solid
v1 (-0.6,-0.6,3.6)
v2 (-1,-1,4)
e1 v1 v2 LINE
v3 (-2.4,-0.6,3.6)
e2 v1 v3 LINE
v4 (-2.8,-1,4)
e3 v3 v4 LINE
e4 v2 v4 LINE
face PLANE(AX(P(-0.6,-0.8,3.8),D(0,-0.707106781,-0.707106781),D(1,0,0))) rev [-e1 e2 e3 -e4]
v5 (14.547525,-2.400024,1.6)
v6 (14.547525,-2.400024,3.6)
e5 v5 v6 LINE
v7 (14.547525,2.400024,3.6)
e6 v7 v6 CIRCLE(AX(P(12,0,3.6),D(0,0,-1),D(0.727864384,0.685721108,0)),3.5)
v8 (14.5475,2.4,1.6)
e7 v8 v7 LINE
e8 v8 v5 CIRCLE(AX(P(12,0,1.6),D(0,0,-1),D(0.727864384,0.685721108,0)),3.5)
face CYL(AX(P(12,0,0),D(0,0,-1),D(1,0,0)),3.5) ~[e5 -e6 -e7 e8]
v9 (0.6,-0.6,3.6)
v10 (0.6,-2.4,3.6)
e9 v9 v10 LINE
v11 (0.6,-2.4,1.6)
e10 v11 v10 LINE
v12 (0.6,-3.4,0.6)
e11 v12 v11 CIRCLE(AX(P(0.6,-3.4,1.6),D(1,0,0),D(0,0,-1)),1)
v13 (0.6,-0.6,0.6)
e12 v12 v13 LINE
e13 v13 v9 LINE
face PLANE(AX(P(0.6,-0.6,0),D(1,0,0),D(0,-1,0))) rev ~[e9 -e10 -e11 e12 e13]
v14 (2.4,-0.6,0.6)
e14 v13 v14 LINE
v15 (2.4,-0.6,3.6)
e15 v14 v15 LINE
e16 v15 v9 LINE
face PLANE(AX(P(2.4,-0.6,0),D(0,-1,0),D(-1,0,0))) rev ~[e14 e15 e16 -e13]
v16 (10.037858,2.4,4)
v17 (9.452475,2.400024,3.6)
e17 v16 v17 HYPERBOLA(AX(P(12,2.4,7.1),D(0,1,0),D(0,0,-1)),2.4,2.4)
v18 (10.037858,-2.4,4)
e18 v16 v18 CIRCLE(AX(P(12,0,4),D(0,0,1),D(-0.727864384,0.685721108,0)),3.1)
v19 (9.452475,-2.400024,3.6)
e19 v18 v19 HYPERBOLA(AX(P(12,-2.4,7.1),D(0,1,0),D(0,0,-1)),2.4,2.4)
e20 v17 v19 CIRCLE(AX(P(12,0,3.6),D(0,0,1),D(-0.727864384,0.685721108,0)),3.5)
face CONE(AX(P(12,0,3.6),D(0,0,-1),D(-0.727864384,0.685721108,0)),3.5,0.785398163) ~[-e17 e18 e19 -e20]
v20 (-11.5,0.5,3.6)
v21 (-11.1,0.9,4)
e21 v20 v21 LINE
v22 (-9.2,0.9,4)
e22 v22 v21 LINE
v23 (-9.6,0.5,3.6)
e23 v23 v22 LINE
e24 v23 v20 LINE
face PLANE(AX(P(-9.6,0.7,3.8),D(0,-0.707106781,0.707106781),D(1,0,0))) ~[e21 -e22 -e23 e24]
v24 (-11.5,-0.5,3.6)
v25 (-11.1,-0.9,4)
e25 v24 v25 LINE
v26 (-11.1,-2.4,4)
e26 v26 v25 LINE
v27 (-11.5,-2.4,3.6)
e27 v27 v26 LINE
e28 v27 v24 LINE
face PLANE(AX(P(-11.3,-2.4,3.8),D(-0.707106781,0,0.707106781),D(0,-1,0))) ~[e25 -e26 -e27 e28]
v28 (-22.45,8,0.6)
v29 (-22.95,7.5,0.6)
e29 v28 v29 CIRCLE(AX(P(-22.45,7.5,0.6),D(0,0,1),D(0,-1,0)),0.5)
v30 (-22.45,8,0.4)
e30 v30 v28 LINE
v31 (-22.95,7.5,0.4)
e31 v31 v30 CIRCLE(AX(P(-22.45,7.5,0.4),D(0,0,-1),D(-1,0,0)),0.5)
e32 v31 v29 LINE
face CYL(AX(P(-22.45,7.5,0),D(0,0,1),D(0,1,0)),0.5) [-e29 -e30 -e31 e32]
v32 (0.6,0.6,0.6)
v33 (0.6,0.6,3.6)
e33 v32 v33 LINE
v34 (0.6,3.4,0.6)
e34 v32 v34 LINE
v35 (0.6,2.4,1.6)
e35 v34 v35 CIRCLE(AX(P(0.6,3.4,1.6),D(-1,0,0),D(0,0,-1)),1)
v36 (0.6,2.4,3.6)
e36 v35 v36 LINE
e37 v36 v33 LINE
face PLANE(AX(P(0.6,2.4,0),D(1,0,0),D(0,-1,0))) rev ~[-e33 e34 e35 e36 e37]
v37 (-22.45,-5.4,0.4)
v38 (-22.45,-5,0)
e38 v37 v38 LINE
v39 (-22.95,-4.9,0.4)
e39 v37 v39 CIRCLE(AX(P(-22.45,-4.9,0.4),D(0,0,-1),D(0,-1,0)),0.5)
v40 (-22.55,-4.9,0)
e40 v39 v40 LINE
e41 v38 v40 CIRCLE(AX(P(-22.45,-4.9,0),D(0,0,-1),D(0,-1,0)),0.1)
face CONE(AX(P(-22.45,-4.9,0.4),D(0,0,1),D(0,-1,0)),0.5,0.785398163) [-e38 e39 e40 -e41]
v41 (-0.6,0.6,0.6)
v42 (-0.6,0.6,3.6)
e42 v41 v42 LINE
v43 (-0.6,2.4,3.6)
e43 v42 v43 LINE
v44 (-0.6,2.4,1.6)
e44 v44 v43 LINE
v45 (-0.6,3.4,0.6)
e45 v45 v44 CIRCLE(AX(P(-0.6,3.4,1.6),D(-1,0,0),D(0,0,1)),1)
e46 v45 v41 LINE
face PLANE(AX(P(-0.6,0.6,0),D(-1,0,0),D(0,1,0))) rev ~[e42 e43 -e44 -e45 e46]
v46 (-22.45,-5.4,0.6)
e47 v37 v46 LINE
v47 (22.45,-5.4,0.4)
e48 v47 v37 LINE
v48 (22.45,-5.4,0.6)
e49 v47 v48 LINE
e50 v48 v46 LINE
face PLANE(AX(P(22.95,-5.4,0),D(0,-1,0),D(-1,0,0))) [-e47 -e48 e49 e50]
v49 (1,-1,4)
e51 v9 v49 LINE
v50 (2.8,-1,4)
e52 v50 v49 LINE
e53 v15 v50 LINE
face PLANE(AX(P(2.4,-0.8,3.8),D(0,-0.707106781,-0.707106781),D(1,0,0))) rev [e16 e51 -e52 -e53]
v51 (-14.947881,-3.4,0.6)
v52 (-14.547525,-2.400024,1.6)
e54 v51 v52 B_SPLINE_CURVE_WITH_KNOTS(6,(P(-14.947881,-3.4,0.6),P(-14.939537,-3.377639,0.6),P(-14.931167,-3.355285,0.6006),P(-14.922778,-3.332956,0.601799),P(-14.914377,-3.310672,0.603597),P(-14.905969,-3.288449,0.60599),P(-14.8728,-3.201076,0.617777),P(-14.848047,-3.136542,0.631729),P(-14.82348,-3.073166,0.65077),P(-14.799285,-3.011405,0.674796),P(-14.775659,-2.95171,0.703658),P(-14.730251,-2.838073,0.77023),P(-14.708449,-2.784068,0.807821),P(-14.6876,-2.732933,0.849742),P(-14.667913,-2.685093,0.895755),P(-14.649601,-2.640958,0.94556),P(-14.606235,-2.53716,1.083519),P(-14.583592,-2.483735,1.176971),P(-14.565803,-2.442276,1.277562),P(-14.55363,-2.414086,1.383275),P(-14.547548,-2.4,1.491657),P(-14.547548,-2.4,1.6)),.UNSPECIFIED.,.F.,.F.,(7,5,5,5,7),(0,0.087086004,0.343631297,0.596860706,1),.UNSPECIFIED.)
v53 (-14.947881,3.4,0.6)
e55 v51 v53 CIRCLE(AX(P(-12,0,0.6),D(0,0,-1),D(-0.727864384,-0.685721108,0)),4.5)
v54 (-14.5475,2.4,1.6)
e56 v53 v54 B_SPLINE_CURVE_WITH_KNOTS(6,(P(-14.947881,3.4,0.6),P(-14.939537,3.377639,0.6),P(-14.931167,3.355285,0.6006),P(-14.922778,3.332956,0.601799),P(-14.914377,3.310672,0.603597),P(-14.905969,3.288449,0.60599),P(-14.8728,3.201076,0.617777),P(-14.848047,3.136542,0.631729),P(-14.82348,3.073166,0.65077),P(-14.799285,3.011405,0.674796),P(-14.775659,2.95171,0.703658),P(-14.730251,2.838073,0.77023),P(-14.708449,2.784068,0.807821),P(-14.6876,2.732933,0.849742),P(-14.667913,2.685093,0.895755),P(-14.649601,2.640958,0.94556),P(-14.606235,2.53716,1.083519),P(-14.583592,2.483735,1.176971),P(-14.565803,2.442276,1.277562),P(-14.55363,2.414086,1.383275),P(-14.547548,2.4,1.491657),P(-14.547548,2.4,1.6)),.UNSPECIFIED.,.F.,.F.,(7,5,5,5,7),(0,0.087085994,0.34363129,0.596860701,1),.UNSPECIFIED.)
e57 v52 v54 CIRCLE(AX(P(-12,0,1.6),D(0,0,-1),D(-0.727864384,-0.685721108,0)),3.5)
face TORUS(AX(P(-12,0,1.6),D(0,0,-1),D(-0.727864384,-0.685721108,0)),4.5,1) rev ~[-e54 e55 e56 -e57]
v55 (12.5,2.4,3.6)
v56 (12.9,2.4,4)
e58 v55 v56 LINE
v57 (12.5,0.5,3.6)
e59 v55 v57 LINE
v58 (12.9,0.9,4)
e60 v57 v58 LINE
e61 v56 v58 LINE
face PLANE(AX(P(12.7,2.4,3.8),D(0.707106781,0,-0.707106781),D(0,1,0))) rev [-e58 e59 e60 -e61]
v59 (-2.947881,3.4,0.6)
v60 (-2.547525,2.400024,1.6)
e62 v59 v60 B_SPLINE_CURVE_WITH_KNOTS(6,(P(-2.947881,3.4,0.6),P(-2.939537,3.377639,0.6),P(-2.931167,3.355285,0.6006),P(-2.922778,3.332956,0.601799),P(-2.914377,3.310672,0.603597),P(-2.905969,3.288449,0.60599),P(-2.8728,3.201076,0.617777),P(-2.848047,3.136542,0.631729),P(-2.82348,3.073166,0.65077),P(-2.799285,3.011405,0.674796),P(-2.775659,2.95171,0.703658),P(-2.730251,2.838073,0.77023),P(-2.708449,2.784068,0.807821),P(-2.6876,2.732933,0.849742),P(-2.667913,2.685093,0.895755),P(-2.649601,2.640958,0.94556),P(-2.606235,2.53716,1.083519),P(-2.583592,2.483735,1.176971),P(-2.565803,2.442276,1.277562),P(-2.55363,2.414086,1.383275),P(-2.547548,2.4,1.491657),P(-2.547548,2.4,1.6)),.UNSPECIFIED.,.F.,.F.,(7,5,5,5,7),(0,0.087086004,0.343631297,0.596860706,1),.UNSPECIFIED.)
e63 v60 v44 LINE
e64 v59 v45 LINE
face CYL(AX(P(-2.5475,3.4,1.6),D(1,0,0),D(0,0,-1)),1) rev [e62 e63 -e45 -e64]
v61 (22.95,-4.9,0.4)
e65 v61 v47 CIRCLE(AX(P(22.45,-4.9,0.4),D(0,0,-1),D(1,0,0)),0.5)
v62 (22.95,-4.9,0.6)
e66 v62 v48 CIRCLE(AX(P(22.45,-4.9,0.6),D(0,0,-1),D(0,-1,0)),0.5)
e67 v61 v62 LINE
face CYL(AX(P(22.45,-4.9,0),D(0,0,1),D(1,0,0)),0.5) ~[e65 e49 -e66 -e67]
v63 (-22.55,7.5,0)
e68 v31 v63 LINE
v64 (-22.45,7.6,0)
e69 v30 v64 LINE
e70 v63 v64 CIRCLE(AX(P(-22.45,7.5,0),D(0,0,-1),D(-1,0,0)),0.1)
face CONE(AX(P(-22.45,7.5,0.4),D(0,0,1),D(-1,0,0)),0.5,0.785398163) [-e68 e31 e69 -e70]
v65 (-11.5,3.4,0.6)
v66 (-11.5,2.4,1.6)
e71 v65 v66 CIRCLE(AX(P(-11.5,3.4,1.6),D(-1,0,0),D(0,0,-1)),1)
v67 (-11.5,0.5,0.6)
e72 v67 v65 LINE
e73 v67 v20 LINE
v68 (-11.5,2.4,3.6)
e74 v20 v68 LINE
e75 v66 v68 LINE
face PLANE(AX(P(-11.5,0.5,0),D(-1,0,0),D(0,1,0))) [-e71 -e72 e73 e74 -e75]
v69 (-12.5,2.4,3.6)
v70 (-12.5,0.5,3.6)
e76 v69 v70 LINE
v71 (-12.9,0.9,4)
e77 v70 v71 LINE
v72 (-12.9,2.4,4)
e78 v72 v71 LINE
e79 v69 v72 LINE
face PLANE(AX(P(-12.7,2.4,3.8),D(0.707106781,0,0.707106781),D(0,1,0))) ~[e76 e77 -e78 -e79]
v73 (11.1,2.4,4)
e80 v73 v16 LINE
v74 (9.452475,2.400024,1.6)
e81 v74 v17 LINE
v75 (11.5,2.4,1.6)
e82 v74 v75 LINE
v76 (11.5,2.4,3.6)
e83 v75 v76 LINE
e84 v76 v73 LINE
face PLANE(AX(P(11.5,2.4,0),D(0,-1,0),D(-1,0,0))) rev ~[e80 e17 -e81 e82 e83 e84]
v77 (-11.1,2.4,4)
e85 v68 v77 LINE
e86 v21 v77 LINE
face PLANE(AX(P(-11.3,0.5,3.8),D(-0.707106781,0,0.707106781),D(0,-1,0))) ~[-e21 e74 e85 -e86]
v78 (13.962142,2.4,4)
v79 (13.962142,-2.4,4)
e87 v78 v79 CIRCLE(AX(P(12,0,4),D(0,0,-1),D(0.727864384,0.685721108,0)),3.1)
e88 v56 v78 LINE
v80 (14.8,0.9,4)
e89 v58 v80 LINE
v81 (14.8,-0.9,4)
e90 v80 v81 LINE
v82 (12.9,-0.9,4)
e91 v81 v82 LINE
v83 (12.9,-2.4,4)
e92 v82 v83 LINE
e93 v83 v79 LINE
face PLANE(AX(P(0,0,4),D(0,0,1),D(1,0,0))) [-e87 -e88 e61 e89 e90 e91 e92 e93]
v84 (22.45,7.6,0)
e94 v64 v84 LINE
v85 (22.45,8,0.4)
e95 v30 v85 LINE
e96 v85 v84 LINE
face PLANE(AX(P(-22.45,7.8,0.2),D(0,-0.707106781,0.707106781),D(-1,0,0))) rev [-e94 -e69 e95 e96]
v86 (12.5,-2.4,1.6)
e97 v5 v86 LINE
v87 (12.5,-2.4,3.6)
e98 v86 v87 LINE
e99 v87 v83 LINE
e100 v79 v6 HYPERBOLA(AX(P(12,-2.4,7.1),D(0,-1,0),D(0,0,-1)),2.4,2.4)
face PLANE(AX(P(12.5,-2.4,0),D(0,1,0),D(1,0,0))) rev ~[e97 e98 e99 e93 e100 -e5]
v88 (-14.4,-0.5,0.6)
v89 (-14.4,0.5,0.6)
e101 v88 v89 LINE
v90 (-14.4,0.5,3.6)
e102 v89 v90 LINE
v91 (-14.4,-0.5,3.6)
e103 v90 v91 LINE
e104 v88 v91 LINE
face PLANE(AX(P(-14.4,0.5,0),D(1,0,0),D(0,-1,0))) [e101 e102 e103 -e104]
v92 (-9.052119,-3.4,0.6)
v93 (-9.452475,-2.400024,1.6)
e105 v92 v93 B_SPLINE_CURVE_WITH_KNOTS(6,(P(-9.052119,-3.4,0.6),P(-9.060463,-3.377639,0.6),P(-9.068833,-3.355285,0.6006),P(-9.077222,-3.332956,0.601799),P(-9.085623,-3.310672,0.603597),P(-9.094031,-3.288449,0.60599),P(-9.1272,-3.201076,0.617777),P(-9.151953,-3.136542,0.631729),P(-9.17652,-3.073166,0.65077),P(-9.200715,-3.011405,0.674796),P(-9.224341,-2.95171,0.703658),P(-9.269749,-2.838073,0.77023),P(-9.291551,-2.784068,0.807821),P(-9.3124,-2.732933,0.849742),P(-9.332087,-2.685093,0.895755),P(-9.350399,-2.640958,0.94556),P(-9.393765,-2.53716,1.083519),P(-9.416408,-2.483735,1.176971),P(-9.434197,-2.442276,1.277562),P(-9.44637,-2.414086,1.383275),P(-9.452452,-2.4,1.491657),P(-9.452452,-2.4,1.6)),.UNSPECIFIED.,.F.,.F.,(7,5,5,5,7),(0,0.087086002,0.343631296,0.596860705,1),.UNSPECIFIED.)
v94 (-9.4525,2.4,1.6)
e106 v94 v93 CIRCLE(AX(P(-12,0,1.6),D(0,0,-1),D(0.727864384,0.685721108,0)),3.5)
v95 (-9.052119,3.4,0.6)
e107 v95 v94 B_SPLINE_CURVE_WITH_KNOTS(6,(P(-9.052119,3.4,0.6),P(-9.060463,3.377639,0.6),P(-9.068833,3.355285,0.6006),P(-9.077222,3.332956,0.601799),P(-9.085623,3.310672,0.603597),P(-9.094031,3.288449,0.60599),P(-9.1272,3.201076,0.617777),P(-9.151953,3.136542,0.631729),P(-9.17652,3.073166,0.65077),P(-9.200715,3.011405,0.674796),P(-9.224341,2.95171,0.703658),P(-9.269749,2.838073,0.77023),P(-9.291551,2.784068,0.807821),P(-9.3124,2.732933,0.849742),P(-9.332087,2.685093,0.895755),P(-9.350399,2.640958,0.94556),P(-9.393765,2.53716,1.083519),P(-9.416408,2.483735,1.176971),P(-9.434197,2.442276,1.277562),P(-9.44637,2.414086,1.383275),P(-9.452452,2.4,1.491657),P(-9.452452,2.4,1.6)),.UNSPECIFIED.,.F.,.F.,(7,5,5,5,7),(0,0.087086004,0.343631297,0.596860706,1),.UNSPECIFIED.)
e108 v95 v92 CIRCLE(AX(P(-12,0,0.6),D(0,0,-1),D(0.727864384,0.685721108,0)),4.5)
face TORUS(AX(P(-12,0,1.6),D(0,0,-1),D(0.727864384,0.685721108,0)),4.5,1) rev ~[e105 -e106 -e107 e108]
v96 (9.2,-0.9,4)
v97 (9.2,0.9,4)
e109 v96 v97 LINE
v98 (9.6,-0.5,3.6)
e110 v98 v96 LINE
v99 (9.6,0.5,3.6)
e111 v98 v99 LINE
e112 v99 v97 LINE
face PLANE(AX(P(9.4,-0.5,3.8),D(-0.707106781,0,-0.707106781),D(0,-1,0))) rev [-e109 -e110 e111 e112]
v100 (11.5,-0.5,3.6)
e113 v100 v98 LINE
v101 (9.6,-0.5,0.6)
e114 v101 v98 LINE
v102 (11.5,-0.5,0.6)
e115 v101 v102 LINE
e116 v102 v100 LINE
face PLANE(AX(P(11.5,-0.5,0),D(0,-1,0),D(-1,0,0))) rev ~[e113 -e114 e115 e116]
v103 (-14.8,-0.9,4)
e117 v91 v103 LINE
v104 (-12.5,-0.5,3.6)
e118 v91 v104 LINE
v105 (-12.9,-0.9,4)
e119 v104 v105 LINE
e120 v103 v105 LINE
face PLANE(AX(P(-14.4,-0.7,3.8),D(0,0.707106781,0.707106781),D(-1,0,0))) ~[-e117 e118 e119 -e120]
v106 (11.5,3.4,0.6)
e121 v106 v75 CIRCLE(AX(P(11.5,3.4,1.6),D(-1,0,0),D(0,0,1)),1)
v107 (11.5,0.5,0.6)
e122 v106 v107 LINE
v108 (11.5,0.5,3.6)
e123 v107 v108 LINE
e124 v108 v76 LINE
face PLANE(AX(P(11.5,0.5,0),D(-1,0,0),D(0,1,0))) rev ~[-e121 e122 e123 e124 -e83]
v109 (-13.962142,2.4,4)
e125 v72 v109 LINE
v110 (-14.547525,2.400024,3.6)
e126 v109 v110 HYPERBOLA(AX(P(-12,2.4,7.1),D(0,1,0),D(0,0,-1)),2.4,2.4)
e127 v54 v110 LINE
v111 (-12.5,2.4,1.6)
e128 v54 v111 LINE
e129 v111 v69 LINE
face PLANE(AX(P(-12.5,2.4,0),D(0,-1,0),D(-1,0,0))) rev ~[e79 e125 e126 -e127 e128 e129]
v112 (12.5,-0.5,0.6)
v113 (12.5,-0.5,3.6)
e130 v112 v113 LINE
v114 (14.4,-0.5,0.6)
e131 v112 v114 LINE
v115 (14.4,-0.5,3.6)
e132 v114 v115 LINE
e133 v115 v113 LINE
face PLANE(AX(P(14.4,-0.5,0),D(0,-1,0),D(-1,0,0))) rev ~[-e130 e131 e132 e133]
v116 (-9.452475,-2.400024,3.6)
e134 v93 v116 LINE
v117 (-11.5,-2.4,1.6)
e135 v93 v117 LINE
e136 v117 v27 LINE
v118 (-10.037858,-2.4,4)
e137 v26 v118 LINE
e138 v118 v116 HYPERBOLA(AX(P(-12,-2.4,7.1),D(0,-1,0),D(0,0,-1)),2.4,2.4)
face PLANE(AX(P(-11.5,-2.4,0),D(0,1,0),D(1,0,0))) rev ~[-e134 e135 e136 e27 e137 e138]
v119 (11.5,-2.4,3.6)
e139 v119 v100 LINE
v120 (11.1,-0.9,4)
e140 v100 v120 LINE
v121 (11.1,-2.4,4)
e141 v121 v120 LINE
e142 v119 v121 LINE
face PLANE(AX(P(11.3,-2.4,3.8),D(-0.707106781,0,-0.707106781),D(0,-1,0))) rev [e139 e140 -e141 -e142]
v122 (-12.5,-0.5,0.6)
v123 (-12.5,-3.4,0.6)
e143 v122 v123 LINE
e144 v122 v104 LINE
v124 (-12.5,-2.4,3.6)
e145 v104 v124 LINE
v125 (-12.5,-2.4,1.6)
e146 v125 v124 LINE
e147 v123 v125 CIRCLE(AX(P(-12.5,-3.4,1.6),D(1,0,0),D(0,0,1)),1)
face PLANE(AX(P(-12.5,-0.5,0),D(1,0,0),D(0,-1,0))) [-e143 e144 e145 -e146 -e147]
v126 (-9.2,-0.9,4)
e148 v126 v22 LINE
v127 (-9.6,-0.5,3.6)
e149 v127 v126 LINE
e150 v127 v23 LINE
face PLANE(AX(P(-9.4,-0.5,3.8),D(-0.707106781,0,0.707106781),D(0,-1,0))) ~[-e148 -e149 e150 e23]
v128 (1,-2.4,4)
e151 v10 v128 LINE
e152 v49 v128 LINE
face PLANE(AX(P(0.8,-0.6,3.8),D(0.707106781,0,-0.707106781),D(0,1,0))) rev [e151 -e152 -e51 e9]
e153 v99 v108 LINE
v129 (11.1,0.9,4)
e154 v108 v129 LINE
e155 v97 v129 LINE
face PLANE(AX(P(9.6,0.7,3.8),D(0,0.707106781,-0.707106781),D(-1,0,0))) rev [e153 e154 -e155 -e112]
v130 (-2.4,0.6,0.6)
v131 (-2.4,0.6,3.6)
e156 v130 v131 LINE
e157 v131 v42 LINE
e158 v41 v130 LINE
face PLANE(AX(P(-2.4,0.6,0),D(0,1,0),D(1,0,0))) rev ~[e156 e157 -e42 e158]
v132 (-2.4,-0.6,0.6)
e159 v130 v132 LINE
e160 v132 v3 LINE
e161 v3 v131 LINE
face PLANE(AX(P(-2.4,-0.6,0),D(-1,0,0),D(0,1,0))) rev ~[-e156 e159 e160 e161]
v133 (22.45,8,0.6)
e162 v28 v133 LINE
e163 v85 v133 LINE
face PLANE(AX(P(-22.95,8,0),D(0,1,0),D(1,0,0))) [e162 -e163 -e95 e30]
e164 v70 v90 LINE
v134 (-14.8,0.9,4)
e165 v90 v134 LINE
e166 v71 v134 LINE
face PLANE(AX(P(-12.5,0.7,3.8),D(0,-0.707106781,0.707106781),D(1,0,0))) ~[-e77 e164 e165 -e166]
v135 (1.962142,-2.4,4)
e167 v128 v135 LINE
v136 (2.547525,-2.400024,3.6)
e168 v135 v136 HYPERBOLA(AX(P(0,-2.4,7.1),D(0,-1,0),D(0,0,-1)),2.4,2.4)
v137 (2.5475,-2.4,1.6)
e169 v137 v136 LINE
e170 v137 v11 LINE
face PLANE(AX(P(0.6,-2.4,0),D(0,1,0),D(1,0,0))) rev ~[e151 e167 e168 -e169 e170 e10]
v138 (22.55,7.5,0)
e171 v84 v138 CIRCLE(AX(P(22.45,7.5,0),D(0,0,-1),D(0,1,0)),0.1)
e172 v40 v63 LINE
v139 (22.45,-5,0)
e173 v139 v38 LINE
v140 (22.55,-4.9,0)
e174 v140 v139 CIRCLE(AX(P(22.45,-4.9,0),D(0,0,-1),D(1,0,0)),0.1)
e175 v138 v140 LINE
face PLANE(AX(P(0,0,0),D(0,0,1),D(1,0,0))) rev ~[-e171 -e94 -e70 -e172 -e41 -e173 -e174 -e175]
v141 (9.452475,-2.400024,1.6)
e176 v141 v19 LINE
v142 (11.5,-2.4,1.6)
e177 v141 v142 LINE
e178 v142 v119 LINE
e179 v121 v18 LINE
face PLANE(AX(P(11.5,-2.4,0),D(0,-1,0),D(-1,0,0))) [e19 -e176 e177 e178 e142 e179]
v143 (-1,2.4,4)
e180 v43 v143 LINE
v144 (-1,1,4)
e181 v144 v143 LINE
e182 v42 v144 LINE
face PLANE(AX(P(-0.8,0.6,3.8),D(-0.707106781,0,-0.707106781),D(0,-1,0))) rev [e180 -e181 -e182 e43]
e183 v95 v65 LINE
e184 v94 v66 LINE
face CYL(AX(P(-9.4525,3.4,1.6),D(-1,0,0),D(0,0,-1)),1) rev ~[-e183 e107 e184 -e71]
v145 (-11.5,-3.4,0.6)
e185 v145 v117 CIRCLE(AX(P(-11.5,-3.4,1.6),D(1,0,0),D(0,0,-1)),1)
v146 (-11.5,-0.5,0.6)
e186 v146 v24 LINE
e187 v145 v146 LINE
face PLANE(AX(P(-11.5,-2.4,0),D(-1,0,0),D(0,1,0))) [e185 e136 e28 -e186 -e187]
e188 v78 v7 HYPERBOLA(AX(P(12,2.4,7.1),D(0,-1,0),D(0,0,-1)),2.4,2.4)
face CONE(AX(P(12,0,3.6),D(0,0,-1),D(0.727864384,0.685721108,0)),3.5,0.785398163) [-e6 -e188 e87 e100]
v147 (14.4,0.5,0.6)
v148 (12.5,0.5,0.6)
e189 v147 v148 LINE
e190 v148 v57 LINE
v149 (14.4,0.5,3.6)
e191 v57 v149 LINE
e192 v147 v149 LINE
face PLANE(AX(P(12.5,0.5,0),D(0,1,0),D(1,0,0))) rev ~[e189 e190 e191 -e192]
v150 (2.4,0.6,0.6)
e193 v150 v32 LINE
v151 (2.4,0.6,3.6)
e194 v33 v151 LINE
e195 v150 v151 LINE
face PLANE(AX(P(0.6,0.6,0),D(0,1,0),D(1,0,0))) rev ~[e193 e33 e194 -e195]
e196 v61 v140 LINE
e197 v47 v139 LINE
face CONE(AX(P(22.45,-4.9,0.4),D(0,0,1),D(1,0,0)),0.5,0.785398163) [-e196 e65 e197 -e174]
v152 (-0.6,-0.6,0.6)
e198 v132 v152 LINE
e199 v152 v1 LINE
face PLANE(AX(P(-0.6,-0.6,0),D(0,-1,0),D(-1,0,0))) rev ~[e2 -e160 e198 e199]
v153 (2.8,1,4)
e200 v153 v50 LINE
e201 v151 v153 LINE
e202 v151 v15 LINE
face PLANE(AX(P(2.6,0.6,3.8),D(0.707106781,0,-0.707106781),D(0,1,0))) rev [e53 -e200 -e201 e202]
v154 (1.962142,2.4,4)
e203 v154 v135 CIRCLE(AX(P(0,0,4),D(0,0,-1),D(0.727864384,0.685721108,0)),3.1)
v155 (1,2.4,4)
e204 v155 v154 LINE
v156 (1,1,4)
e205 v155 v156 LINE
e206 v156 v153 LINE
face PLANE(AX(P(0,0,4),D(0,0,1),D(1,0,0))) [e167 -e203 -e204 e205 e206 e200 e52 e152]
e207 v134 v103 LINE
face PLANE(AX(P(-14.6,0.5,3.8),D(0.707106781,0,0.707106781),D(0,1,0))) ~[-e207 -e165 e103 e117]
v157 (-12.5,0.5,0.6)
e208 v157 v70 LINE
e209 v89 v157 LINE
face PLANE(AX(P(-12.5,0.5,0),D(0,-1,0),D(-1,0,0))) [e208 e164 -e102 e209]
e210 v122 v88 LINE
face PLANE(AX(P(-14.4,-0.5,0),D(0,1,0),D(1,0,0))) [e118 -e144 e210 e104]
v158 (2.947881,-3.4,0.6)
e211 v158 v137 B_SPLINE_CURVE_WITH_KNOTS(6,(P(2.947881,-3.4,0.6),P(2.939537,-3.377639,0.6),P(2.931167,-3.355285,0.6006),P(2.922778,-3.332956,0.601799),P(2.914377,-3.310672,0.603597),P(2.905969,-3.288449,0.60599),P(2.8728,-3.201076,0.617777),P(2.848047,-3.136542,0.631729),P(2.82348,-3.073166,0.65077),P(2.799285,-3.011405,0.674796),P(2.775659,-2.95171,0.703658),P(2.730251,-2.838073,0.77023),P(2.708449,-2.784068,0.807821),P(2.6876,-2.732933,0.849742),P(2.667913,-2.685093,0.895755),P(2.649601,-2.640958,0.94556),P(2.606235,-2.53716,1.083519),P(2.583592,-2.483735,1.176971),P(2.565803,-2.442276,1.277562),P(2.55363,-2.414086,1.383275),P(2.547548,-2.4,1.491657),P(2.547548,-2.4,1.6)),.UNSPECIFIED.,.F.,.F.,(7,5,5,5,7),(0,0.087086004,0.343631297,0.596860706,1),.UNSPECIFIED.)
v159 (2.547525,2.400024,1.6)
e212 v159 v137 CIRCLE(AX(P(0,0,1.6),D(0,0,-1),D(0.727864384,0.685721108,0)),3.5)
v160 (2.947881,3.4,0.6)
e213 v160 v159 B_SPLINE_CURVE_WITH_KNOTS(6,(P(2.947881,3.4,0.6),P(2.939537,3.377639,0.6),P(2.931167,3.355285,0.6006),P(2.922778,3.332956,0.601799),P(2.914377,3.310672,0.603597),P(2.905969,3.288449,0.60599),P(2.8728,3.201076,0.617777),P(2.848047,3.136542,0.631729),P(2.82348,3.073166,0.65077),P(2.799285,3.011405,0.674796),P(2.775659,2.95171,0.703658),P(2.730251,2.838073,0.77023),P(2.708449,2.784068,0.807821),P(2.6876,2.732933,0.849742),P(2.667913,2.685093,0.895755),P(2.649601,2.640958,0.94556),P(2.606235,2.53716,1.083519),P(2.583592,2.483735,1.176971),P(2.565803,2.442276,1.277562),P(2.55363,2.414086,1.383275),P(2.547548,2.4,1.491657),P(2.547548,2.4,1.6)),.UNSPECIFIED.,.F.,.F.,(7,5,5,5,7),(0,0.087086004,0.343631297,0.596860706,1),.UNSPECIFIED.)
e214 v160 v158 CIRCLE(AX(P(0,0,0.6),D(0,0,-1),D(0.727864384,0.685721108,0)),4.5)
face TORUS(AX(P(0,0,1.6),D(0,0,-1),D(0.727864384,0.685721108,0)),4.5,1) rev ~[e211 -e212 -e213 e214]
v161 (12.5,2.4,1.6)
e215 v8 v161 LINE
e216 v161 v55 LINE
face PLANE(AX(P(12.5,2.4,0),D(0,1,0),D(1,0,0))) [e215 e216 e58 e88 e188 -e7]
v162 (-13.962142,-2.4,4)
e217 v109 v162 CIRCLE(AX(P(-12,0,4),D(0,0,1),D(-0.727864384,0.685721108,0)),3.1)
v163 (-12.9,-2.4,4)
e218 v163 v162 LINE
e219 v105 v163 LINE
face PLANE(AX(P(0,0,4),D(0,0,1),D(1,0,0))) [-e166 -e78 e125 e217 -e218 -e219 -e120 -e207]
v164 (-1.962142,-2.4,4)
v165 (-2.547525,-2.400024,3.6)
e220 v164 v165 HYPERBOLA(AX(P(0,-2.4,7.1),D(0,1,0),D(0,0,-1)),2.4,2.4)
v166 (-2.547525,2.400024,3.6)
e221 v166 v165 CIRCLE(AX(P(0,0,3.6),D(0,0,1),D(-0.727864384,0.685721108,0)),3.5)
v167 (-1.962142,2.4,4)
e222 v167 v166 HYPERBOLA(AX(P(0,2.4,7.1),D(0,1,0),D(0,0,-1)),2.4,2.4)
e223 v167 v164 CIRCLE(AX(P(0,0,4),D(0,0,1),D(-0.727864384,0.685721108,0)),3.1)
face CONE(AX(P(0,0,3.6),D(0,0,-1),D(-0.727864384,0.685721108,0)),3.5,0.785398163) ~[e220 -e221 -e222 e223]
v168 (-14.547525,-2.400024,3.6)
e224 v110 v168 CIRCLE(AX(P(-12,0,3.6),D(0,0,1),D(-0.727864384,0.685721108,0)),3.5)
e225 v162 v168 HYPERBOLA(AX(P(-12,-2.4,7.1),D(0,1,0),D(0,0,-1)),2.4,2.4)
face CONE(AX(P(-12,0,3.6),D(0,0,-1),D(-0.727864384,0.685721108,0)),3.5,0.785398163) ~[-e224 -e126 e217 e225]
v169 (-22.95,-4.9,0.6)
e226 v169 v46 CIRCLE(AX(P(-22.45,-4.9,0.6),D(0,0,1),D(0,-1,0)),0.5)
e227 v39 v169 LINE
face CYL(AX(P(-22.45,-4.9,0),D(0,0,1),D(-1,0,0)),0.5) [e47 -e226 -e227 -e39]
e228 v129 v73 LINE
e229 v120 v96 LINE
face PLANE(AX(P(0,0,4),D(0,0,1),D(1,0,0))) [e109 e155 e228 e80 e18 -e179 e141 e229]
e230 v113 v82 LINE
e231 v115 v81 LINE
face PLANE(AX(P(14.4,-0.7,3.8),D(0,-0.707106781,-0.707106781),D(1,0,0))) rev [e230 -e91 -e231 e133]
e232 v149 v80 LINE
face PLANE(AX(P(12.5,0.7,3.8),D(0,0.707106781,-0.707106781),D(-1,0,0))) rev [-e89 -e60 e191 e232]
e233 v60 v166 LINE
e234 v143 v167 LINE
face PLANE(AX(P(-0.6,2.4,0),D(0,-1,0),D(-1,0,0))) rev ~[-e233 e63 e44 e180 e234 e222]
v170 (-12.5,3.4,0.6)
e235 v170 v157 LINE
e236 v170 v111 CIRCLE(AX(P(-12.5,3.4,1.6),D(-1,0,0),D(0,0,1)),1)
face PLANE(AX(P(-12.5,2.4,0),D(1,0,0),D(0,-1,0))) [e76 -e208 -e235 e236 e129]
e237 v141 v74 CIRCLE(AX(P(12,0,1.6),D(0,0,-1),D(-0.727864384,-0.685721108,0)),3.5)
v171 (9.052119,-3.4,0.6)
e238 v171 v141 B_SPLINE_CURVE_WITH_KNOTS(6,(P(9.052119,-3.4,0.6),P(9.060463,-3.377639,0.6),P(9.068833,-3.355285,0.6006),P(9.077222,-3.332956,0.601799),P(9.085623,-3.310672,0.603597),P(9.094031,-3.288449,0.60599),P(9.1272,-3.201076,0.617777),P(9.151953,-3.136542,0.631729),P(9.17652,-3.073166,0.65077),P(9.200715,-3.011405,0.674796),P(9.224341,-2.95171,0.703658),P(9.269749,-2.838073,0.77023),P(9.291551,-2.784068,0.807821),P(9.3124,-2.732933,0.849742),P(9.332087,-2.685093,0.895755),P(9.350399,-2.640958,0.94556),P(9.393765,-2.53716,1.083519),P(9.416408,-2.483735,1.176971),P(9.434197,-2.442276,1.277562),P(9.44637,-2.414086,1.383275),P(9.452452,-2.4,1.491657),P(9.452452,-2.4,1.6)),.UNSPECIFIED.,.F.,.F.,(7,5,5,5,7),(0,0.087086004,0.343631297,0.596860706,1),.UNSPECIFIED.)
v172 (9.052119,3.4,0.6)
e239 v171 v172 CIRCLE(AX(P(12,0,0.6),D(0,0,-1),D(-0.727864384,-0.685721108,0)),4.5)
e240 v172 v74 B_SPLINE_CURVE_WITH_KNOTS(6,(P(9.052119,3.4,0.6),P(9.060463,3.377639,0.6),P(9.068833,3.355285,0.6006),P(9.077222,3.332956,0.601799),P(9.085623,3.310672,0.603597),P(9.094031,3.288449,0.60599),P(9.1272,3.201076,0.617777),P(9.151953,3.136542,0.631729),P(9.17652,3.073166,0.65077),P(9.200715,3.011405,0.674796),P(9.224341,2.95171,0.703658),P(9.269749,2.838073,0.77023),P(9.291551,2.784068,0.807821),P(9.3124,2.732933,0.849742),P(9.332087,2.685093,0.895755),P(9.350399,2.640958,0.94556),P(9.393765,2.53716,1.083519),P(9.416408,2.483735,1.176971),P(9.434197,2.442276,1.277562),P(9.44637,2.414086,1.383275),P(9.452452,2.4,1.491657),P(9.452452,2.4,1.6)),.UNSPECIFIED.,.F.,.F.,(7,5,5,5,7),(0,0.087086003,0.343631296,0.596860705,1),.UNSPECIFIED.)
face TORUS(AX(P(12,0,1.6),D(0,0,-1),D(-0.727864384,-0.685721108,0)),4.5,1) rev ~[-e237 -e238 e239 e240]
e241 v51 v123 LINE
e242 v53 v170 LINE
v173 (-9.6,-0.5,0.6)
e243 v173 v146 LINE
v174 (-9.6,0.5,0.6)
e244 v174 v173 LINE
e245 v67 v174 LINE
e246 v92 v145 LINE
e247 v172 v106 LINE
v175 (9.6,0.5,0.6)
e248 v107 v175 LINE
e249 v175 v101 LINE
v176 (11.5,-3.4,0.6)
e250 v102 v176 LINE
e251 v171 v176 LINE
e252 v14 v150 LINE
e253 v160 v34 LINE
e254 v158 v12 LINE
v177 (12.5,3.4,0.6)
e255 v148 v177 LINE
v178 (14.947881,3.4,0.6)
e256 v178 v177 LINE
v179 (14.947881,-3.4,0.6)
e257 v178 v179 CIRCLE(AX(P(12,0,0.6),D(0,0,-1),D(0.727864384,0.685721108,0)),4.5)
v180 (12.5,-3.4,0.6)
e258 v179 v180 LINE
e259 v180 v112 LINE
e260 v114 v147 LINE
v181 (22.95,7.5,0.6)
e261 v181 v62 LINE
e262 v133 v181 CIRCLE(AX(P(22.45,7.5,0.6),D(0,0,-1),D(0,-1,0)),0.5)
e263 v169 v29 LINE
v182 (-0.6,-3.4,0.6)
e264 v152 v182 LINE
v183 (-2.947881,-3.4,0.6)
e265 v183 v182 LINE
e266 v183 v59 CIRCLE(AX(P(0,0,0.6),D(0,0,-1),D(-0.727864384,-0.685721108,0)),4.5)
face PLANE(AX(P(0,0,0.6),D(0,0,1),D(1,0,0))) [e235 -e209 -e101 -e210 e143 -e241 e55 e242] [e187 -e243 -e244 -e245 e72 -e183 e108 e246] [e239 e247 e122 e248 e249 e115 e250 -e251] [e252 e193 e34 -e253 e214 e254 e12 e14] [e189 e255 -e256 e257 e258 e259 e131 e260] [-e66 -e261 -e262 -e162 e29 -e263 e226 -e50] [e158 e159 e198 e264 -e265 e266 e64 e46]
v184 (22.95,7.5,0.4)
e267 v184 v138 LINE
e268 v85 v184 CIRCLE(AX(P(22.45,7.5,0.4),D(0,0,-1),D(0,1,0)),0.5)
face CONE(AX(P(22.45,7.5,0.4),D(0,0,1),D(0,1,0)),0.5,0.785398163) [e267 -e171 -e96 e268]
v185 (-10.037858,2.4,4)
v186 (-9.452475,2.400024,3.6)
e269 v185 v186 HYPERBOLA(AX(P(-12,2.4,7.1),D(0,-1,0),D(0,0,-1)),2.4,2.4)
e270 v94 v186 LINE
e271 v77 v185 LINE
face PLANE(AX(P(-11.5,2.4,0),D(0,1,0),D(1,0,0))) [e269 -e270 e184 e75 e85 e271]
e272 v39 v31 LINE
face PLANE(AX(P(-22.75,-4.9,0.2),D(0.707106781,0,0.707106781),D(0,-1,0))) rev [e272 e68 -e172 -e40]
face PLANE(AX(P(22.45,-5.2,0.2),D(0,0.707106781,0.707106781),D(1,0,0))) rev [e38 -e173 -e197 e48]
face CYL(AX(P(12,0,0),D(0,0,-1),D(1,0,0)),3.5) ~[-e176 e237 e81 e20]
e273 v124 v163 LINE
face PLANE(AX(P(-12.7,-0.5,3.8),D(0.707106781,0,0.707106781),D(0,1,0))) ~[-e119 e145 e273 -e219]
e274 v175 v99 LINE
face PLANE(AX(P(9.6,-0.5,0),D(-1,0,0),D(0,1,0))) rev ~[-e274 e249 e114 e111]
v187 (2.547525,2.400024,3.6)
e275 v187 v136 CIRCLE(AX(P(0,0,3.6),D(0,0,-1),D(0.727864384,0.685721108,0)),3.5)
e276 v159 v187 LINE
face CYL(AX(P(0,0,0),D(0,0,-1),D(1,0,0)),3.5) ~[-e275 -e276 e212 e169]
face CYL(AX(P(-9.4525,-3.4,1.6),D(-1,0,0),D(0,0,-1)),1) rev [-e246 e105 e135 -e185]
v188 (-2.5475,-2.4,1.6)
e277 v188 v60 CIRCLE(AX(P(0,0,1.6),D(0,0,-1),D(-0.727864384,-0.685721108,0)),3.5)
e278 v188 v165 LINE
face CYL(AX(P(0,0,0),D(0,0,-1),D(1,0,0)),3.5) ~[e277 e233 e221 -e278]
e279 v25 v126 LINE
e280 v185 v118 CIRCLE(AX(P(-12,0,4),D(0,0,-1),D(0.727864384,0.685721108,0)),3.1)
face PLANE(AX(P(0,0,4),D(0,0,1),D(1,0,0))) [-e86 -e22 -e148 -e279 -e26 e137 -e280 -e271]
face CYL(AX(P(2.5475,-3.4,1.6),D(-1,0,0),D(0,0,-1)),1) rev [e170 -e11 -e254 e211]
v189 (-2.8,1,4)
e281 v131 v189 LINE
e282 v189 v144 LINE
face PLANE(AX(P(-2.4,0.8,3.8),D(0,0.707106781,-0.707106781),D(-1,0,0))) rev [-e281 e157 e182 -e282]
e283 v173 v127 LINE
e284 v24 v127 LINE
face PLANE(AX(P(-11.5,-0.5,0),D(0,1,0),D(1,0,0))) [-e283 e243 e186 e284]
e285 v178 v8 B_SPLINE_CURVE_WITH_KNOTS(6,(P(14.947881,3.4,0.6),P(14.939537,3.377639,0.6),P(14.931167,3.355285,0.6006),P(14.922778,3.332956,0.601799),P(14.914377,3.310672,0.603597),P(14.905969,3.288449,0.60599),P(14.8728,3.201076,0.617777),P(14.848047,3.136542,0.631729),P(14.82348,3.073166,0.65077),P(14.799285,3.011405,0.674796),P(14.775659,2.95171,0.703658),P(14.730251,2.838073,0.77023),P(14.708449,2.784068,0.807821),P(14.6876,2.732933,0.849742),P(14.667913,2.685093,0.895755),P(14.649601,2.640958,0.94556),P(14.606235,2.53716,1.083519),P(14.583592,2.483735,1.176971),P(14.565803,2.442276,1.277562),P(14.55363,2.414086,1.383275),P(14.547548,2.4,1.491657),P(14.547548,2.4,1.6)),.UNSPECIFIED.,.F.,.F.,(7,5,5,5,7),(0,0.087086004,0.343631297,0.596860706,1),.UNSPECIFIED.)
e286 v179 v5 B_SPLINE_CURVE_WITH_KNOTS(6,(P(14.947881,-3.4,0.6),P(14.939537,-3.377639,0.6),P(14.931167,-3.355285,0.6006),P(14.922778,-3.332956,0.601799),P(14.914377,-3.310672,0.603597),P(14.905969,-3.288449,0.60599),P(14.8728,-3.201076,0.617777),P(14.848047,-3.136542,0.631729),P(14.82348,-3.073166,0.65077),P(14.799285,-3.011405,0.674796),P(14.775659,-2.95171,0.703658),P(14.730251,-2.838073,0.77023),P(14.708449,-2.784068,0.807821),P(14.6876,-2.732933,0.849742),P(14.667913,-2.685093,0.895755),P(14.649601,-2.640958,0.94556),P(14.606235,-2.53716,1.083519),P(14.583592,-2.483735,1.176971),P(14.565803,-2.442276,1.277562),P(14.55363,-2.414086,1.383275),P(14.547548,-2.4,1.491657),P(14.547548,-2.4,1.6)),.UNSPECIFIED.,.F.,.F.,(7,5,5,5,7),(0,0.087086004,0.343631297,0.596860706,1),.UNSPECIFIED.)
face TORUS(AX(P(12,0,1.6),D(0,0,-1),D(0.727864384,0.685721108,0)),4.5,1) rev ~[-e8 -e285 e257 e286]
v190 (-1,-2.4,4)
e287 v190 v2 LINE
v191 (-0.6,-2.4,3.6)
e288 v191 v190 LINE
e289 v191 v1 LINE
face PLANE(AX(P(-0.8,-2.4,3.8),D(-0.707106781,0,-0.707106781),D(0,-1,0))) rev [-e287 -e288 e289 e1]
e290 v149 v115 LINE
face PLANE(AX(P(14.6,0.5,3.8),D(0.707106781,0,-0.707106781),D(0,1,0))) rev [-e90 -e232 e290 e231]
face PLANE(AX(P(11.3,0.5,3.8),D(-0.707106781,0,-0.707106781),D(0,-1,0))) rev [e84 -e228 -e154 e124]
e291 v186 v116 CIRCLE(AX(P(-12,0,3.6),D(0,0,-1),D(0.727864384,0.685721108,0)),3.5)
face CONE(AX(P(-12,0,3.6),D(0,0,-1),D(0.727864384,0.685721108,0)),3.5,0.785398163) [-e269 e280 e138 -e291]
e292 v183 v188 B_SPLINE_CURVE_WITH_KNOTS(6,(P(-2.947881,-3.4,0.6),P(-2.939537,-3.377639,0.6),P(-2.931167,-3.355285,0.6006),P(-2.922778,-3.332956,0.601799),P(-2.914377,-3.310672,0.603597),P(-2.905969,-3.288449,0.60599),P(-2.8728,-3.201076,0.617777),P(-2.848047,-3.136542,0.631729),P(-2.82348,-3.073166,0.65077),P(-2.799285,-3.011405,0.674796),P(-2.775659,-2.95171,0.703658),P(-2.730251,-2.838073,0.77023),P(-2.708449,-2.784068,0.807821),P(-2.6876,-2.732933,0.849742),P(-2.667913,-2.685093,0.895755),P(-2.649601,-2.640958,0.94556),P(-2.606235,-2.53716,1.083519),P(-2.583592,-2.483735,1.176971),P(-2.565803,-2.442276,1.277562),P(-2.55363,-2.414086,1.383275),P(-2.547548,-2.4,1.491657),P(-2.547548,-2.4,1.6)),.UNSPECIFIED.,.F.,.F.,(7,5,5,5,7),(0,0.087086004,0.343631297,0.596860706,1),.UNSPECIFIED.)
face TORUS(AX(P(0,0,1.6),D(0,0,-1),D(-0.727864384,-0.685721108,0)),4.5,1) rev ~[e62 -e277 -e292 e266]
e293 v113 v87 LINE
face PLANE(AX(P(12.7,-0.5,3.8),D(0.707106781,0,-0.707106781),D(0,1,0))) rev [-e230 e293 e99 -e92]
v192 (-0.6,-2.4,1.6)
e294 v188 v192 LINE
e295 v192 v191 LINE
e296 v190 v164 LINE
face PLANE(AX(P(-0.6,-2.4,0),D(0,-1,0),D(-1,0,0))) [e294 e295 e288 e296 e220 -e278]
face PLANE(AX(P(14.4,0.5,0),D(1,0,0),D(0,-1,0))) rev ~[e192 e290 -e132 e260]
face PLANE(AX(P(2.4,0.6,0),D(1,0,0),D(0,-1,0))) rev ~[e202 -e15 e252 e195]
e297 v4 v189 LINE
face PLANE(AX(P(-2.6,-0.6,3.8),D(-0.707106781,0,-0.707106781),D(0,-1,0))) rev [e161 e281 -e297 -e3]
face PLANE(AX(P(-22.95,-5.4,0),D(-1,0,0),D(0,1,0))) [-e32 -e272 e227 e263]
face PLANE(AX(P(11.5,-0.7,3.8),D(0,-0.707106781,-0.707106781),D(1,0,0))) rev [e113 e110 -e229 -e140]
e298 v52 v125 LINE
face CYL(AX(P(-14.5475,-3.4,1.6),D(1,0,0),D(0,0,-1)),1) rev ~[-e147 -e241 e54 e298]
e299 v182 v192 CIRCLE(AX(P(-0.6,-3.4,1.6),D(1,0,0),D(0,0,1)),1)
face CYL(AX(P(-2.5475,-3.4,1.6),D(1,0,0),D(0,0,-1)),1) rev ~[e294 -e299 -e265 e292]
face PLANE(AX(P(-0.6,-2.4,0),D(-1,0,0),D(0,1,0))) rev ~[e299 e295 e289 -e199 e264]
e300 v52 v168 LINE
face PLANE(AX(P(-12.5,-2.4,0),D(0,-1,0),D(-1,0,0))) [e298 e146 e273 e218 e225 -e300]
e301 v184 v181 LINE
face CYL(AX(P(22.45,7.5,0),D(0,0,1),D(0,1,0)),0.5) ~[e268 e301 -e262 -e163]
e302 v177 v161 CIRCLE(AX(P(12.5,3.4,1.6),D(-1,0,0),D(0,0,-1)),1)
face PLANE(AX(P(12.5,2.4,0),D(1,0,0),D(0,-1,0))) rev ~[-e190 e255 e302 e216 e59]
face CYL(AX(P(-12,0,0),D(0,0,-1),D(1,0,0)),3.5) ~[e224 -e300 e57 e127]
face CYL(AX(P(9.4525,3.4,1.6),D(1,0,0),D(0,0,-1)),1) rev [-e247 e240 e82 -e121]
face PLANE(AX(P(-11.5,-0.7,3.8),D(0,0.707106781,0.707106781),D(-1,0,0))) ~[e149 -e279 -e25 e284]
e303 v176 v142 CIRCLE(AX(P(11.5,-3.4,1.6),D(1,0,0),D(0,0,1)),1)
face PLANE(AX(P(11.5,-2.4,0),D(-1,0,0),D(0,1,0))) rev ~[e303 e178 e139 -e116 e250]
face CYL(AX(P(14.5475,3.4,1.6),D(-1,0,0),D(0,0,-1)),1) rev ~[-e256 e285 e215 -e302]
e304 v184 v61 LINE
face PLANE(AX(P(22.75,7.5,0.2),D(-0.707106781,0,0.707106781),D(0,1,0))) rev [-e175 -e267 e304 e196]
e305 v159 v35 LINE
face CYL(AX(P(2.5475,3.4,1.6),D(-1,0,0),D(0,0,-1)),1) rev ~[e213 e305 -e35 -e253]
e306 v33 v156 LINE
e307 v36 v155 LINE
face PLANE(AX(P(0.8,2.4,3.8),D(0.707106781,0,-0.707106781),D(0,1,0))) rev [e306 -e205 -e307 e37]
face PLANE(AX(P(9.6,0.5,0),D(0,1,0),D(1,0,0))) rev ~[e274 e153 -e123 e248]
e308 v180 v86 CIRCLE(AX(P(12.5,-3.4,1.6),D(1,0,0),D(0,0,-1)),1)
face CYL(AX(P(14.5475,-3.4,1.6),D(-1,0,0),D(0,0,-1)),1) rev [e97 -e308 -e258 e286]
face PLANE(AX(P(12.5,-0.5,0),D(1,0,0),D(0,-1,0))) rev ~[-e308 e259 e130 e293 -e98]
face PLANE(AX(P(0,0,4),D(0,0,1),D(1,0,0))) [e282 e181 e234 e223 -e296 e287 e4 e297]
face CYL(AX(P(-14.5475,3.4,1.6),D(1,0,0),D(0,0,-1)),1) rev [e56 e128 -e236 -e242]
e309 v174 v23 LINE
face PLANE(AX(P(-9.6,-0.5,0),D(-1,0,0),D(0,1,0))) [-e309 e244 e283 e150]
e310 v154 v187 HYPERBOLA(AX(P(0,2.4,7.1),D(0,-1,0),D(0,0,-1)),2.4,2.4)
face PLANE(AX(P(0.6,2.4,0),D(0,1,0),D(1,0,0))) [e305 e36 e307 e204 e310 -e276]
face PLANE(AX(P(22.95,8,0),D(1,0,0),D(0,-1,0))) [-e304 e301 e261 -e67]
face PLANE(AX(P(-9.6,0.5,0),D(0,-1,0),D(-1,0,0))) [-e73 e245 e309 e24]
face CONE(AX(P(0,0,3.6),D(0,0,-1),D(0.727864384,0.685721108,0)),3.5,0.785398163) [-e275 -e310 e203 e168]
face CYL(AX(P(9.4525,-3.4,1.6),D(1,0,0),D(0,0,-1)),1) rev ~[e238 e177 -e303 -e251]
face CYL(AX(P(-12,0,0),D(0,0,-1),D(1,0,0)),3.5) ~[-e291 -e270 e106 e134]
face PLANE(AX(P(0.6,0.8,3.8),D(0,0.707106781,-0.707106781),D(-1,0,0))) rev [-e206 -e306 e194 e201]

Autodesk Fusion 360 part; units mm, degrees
sketch "Sketch1" plane through (0, 0, 0) normal (0, 0, 1) x (1, 0, 0)
  line L0 (25.55, 9) -> (-25.55, 9) construction
  line L1 (-25.55, 9) -> (-25.55, -9) construction
  line L2 (-25.55, -9) -> (25.55, -9) construction
  line L3 (25.55, -9) -> (25.55, 9) construction
  line L4 (25.55, 9) -> (-25.55, -9) construction
  line L5 (-25.55, 9) -> (25.55, -9) construction
  line L6 (-22.95, 8) -> (22.95, 8)
  line L7 (22.95, 8) -> (22.95, -5.4)
  line L8 (22.95, -5.4) -> (-22.95, -5.4)
  line L9 (-22.95, -5.4) -> (-22.95, 8)
  circle A0 centre (0, 0) radius 3.5
  line L10 (2.4, -0.6) -> (-2.4, -0.6)
  line L11 (-2.4, -0.6) -> (-2.4, 0.6)
  line L12 (-2.4, 0.6) -> (2.4, 0.6)
  line L13 (2.4, 0.6) -> (2.4, -0.6)
  line L14 (2.4, -0.6) -> (-2.4, 0.6) construction
  line L15 (-2.4, -0.6) -> (2.4, 0.6) construction
  line L16 (0.6, -2.4) -> (-0.6, -2.4)
  line L17 (-0.6, -2.4) -> (-0.6, 2.4)
  line L18 (-0.6, 2.4) -> (0.6, 2.4)
  line L19 (0.6, 2.4) -> (0.6, -2.4)
  line L20 (0.6, -2.4) -> (-0.6, 2.4) construction
  line L21 (-0.6, -2.4) -> (0.6, 2.4) construction
  line L22 (-0.6, 2.4) -> (-2.5475, 2.4)
  line L23 (0.6, 2.4) -> (2.5475, 2.4)
  line L24 (-0.6, -2.4) -> (-2.5475, -2.4)
  line L25 (0.6, -2.4) -> (2.5475, -2.4)
  line L26 (0, 0) -> (0, 6.2895) construction
  line L27 (0, 0) -> (12, 0) construction
  circle A1 centre (12, 0) radius 3.5
  line L28 (14.4, -0.5) -> (9.6, -0.5)
  line L29 (9.6, -0.5) -> (9.6, 0.5)
  line L30 (9.6, 0.5) -> (14.4, 0.5)
  line L31 (14.4, 0.5) -> (14.4, -0.5)
  line L32 (14.4, -0.5) -> (9.6, 0.5) construction
  line L33 (9.6, -0.5) -> (14.4, 0.5) construction
  line L34 (12.5, -2.4) -> (11.5, -2.4)
  line L35 (11.5, -2.4) -> (11.5, 2.4)
  line L36 (11.5, 2.4) -> (12.5, 2.4)
  line L37 (12.5, 2.4) -> (12.5, -2.4)
  line L38 (12.5, -2.4) -> (11.5, 2.4) construction
  line L39 (11.5, -2.4) -> (12.5, 2.4) construction
  line L40 (11.5, 2.4) -> (9.4525, 2.4)
  line L41 (12.5, 2.4) -> (14.5475, 2.4)
  line L42 (11.5, -2.4) -> (9.4525, -2.4)
  line L43 (12.5, -2.4) -> (14.5475, -2.4)
  circle A2 centre (-12, 0) radius 3.5
  line L44 (-11.5, 2.4) -> (-9.4525, 2.4)
  line L45 (-11.5, 2.4) -> (-12.5, 2.4)
  line L46 (-12.5, 2.4) -> (-14.5475, 2.4)
  line L47 (-11.5, -2.4) -> (-9.4525, -2.4)
  line L48 (-12.5, -2.4) -> (-11.5, -2.4)
  line L49 (-12.5, -2.4) -> (-14.5475, -2.4)
  line L50 (-11.5, -2.4) -> (-11.5, 2.4)
  line L51 (-12.5, 2.4) -> (-12.5, -2.4)
  line L52 (-14.4, -0.5) -> (-9.6, -0.5)
  line L53 (-9.6, 0.5) -> (-14.4, 0.5)
  line L54 (-14.4, 0.5) -> (-14.4, -0.5)
  line L55 (-9.6, -0.5) -> (-9.6, 0.5)
  point P0 (12, 0)
  point P1 (12, 0)
  dimension "d1" = 51.1
  dimension "d2" = 18
  dimension "d3" = 3.6
  dimension "d4" = 1
  dimension "d5" = 2.6
  dimension "d6" = 2.6
  dimension "d7" = 7
  dimension "d8" = 4.8
  dimension "d9" = 1.2
  dimension "d10" = 1.2
  dimension "d11" = 4.8
  dimension "d19" = 12
  dimension "d20" = 7
  dimension "d21" = 4.8
  dimension "d22" = 1
  dimension "d23" = 4.8
  dimension "d24" = 1
extrude "Extrude1" add sketch "Sketch1" along normal blind 0.6 contours L6 L7 L8 L9 | A0 L10 L12 L13 L19 L23 L25 | A0 L18 L22 L23 | A0 L16 L24 L25 | A0 L10 L11 L12 L17 L22 L24 | L12 L17 L18 L19 | L10 L16 L17 L19 | L10 L12 L17 L19 | L10 L12 L13 L19 | L10 L11 L12 L17 | A1 L28 L30 L31 L37 L41 L43 | A1 L36 L40 L41 | A1 L34 L42 L43 | A1 L28 L29 L30 L35 L40 L42 | L30 L35 L36 L37 | L28 L34 L35 L37 | L28 L30 L35 L37 | L28 L30 L31 L37 | L28 L29 L30 L35 | A2 L44 L47 L50 L52 L53 L55 | A2 L44 L45 L46 | A2 L47 L48 L49 | A2 L46 L49 L51 L52 L53 L54 | L45 L50 L51 L53 | L48 L50 L51 L52 | L50 L52 L53 L55 | L50 L51 L52 L53 | L51 L52 L53 L54
extrude "Extrude2" add sketch "Sketch1" along normal blind 4 contours A0 L10 L12 L13 L19 L23 L25 | A0 L10 L11 L12 L17 L22 L24 | A1 L28 L30 L31 L37 L41 L43 | A1 L28 L29 L30 L35 L40 L42 | A2 L44 L47 L50 L52 L53 L55 | A2 L46 L49 L51 L52 L53 L54
fillet "Fillet1" radius 1 18 edges at (-1.5738, -2.4, 0.6) (-3.5, 0, 0.6) (1.5738, -2.4, 0.6) (3.5, 0, 0.6) (1.5738, 2.4, 0.6) (-1.5738, 2.4, 0.6) (-10.4762, 2.4, 0.6) (-8.5, 0, 0.6) (-13.5238, 2.4, 0.6) (-15.5, 0, 0.6) (8.5, 0, 0.6) (10.4762, 2.4, 0.6) (13.5238, 2.4, 0.6) (15.5, 0, 0.6) (-13.5238, -2.4, 0.6) (-10.4762, -2.4, 0.6) (10.4762, -2.4, 0.6) (13.5238, -2.4, 0.6)
fillet "Fillet1" radius 0.5 4 edges at (22.95, 8, 0.3) (-22.95, 8, 0.3) (22.95, -5.4, 0.3) (-22.95, -5.4, 0.3)
chamfer "Chamfer1" distance 0.4 angle 45 44 edges at (0, 8, 0) (-22.8036, 7.8536, 0) (-22.95, 1.3, 0) (-22.8036, -5.2536, 0) (0, -5.4, 0) (22.8036, -5.2536, 0) (22.95, 1.3, 0) (22.8036, 7.8536, 0) (-0.6, 1.5, 4) (-1.5, 0.6, 4) (-2.4, 0, 4) (-1.5, -0.6, 4) (-0.6, -1.5, 4) (0.6, -1.5, 4) (1.5, -0.6, 4) (2.4, 0, 4) (1.5, 0.6, 4) (0.6, 1.5, 4) (3.5, 0, 4) (-3.5, 0, 4) (-12.5, -1.45, 4) (-13.45, -0.5, 4) (-14.4, 0, 4) (-13.45, 0.5, 4) (-12.5, 1.45, 4) (-11.5, 1.45, 4) (-10.55, 0.5, 4) (-9.6, 0, 4) (-10.55, -0.5, 4) (-11.5, -1.45, 4) (-8.5, 0, 4) (-15.5, 0, 4) (8.5, 0, 4) (11.5, 1.45, 4) (10.55, 0.5, 4) (9.6, 0, 4) (10.55, -0.5, 4) (11.5, -1.45, 4) (12.5, -1.45, 4) (13.45, -0.5, 4) (14.4, 0, 4) (13.45, 0.5, 4) (12.5, 1.45, 4) (15.5, 0, 4)
